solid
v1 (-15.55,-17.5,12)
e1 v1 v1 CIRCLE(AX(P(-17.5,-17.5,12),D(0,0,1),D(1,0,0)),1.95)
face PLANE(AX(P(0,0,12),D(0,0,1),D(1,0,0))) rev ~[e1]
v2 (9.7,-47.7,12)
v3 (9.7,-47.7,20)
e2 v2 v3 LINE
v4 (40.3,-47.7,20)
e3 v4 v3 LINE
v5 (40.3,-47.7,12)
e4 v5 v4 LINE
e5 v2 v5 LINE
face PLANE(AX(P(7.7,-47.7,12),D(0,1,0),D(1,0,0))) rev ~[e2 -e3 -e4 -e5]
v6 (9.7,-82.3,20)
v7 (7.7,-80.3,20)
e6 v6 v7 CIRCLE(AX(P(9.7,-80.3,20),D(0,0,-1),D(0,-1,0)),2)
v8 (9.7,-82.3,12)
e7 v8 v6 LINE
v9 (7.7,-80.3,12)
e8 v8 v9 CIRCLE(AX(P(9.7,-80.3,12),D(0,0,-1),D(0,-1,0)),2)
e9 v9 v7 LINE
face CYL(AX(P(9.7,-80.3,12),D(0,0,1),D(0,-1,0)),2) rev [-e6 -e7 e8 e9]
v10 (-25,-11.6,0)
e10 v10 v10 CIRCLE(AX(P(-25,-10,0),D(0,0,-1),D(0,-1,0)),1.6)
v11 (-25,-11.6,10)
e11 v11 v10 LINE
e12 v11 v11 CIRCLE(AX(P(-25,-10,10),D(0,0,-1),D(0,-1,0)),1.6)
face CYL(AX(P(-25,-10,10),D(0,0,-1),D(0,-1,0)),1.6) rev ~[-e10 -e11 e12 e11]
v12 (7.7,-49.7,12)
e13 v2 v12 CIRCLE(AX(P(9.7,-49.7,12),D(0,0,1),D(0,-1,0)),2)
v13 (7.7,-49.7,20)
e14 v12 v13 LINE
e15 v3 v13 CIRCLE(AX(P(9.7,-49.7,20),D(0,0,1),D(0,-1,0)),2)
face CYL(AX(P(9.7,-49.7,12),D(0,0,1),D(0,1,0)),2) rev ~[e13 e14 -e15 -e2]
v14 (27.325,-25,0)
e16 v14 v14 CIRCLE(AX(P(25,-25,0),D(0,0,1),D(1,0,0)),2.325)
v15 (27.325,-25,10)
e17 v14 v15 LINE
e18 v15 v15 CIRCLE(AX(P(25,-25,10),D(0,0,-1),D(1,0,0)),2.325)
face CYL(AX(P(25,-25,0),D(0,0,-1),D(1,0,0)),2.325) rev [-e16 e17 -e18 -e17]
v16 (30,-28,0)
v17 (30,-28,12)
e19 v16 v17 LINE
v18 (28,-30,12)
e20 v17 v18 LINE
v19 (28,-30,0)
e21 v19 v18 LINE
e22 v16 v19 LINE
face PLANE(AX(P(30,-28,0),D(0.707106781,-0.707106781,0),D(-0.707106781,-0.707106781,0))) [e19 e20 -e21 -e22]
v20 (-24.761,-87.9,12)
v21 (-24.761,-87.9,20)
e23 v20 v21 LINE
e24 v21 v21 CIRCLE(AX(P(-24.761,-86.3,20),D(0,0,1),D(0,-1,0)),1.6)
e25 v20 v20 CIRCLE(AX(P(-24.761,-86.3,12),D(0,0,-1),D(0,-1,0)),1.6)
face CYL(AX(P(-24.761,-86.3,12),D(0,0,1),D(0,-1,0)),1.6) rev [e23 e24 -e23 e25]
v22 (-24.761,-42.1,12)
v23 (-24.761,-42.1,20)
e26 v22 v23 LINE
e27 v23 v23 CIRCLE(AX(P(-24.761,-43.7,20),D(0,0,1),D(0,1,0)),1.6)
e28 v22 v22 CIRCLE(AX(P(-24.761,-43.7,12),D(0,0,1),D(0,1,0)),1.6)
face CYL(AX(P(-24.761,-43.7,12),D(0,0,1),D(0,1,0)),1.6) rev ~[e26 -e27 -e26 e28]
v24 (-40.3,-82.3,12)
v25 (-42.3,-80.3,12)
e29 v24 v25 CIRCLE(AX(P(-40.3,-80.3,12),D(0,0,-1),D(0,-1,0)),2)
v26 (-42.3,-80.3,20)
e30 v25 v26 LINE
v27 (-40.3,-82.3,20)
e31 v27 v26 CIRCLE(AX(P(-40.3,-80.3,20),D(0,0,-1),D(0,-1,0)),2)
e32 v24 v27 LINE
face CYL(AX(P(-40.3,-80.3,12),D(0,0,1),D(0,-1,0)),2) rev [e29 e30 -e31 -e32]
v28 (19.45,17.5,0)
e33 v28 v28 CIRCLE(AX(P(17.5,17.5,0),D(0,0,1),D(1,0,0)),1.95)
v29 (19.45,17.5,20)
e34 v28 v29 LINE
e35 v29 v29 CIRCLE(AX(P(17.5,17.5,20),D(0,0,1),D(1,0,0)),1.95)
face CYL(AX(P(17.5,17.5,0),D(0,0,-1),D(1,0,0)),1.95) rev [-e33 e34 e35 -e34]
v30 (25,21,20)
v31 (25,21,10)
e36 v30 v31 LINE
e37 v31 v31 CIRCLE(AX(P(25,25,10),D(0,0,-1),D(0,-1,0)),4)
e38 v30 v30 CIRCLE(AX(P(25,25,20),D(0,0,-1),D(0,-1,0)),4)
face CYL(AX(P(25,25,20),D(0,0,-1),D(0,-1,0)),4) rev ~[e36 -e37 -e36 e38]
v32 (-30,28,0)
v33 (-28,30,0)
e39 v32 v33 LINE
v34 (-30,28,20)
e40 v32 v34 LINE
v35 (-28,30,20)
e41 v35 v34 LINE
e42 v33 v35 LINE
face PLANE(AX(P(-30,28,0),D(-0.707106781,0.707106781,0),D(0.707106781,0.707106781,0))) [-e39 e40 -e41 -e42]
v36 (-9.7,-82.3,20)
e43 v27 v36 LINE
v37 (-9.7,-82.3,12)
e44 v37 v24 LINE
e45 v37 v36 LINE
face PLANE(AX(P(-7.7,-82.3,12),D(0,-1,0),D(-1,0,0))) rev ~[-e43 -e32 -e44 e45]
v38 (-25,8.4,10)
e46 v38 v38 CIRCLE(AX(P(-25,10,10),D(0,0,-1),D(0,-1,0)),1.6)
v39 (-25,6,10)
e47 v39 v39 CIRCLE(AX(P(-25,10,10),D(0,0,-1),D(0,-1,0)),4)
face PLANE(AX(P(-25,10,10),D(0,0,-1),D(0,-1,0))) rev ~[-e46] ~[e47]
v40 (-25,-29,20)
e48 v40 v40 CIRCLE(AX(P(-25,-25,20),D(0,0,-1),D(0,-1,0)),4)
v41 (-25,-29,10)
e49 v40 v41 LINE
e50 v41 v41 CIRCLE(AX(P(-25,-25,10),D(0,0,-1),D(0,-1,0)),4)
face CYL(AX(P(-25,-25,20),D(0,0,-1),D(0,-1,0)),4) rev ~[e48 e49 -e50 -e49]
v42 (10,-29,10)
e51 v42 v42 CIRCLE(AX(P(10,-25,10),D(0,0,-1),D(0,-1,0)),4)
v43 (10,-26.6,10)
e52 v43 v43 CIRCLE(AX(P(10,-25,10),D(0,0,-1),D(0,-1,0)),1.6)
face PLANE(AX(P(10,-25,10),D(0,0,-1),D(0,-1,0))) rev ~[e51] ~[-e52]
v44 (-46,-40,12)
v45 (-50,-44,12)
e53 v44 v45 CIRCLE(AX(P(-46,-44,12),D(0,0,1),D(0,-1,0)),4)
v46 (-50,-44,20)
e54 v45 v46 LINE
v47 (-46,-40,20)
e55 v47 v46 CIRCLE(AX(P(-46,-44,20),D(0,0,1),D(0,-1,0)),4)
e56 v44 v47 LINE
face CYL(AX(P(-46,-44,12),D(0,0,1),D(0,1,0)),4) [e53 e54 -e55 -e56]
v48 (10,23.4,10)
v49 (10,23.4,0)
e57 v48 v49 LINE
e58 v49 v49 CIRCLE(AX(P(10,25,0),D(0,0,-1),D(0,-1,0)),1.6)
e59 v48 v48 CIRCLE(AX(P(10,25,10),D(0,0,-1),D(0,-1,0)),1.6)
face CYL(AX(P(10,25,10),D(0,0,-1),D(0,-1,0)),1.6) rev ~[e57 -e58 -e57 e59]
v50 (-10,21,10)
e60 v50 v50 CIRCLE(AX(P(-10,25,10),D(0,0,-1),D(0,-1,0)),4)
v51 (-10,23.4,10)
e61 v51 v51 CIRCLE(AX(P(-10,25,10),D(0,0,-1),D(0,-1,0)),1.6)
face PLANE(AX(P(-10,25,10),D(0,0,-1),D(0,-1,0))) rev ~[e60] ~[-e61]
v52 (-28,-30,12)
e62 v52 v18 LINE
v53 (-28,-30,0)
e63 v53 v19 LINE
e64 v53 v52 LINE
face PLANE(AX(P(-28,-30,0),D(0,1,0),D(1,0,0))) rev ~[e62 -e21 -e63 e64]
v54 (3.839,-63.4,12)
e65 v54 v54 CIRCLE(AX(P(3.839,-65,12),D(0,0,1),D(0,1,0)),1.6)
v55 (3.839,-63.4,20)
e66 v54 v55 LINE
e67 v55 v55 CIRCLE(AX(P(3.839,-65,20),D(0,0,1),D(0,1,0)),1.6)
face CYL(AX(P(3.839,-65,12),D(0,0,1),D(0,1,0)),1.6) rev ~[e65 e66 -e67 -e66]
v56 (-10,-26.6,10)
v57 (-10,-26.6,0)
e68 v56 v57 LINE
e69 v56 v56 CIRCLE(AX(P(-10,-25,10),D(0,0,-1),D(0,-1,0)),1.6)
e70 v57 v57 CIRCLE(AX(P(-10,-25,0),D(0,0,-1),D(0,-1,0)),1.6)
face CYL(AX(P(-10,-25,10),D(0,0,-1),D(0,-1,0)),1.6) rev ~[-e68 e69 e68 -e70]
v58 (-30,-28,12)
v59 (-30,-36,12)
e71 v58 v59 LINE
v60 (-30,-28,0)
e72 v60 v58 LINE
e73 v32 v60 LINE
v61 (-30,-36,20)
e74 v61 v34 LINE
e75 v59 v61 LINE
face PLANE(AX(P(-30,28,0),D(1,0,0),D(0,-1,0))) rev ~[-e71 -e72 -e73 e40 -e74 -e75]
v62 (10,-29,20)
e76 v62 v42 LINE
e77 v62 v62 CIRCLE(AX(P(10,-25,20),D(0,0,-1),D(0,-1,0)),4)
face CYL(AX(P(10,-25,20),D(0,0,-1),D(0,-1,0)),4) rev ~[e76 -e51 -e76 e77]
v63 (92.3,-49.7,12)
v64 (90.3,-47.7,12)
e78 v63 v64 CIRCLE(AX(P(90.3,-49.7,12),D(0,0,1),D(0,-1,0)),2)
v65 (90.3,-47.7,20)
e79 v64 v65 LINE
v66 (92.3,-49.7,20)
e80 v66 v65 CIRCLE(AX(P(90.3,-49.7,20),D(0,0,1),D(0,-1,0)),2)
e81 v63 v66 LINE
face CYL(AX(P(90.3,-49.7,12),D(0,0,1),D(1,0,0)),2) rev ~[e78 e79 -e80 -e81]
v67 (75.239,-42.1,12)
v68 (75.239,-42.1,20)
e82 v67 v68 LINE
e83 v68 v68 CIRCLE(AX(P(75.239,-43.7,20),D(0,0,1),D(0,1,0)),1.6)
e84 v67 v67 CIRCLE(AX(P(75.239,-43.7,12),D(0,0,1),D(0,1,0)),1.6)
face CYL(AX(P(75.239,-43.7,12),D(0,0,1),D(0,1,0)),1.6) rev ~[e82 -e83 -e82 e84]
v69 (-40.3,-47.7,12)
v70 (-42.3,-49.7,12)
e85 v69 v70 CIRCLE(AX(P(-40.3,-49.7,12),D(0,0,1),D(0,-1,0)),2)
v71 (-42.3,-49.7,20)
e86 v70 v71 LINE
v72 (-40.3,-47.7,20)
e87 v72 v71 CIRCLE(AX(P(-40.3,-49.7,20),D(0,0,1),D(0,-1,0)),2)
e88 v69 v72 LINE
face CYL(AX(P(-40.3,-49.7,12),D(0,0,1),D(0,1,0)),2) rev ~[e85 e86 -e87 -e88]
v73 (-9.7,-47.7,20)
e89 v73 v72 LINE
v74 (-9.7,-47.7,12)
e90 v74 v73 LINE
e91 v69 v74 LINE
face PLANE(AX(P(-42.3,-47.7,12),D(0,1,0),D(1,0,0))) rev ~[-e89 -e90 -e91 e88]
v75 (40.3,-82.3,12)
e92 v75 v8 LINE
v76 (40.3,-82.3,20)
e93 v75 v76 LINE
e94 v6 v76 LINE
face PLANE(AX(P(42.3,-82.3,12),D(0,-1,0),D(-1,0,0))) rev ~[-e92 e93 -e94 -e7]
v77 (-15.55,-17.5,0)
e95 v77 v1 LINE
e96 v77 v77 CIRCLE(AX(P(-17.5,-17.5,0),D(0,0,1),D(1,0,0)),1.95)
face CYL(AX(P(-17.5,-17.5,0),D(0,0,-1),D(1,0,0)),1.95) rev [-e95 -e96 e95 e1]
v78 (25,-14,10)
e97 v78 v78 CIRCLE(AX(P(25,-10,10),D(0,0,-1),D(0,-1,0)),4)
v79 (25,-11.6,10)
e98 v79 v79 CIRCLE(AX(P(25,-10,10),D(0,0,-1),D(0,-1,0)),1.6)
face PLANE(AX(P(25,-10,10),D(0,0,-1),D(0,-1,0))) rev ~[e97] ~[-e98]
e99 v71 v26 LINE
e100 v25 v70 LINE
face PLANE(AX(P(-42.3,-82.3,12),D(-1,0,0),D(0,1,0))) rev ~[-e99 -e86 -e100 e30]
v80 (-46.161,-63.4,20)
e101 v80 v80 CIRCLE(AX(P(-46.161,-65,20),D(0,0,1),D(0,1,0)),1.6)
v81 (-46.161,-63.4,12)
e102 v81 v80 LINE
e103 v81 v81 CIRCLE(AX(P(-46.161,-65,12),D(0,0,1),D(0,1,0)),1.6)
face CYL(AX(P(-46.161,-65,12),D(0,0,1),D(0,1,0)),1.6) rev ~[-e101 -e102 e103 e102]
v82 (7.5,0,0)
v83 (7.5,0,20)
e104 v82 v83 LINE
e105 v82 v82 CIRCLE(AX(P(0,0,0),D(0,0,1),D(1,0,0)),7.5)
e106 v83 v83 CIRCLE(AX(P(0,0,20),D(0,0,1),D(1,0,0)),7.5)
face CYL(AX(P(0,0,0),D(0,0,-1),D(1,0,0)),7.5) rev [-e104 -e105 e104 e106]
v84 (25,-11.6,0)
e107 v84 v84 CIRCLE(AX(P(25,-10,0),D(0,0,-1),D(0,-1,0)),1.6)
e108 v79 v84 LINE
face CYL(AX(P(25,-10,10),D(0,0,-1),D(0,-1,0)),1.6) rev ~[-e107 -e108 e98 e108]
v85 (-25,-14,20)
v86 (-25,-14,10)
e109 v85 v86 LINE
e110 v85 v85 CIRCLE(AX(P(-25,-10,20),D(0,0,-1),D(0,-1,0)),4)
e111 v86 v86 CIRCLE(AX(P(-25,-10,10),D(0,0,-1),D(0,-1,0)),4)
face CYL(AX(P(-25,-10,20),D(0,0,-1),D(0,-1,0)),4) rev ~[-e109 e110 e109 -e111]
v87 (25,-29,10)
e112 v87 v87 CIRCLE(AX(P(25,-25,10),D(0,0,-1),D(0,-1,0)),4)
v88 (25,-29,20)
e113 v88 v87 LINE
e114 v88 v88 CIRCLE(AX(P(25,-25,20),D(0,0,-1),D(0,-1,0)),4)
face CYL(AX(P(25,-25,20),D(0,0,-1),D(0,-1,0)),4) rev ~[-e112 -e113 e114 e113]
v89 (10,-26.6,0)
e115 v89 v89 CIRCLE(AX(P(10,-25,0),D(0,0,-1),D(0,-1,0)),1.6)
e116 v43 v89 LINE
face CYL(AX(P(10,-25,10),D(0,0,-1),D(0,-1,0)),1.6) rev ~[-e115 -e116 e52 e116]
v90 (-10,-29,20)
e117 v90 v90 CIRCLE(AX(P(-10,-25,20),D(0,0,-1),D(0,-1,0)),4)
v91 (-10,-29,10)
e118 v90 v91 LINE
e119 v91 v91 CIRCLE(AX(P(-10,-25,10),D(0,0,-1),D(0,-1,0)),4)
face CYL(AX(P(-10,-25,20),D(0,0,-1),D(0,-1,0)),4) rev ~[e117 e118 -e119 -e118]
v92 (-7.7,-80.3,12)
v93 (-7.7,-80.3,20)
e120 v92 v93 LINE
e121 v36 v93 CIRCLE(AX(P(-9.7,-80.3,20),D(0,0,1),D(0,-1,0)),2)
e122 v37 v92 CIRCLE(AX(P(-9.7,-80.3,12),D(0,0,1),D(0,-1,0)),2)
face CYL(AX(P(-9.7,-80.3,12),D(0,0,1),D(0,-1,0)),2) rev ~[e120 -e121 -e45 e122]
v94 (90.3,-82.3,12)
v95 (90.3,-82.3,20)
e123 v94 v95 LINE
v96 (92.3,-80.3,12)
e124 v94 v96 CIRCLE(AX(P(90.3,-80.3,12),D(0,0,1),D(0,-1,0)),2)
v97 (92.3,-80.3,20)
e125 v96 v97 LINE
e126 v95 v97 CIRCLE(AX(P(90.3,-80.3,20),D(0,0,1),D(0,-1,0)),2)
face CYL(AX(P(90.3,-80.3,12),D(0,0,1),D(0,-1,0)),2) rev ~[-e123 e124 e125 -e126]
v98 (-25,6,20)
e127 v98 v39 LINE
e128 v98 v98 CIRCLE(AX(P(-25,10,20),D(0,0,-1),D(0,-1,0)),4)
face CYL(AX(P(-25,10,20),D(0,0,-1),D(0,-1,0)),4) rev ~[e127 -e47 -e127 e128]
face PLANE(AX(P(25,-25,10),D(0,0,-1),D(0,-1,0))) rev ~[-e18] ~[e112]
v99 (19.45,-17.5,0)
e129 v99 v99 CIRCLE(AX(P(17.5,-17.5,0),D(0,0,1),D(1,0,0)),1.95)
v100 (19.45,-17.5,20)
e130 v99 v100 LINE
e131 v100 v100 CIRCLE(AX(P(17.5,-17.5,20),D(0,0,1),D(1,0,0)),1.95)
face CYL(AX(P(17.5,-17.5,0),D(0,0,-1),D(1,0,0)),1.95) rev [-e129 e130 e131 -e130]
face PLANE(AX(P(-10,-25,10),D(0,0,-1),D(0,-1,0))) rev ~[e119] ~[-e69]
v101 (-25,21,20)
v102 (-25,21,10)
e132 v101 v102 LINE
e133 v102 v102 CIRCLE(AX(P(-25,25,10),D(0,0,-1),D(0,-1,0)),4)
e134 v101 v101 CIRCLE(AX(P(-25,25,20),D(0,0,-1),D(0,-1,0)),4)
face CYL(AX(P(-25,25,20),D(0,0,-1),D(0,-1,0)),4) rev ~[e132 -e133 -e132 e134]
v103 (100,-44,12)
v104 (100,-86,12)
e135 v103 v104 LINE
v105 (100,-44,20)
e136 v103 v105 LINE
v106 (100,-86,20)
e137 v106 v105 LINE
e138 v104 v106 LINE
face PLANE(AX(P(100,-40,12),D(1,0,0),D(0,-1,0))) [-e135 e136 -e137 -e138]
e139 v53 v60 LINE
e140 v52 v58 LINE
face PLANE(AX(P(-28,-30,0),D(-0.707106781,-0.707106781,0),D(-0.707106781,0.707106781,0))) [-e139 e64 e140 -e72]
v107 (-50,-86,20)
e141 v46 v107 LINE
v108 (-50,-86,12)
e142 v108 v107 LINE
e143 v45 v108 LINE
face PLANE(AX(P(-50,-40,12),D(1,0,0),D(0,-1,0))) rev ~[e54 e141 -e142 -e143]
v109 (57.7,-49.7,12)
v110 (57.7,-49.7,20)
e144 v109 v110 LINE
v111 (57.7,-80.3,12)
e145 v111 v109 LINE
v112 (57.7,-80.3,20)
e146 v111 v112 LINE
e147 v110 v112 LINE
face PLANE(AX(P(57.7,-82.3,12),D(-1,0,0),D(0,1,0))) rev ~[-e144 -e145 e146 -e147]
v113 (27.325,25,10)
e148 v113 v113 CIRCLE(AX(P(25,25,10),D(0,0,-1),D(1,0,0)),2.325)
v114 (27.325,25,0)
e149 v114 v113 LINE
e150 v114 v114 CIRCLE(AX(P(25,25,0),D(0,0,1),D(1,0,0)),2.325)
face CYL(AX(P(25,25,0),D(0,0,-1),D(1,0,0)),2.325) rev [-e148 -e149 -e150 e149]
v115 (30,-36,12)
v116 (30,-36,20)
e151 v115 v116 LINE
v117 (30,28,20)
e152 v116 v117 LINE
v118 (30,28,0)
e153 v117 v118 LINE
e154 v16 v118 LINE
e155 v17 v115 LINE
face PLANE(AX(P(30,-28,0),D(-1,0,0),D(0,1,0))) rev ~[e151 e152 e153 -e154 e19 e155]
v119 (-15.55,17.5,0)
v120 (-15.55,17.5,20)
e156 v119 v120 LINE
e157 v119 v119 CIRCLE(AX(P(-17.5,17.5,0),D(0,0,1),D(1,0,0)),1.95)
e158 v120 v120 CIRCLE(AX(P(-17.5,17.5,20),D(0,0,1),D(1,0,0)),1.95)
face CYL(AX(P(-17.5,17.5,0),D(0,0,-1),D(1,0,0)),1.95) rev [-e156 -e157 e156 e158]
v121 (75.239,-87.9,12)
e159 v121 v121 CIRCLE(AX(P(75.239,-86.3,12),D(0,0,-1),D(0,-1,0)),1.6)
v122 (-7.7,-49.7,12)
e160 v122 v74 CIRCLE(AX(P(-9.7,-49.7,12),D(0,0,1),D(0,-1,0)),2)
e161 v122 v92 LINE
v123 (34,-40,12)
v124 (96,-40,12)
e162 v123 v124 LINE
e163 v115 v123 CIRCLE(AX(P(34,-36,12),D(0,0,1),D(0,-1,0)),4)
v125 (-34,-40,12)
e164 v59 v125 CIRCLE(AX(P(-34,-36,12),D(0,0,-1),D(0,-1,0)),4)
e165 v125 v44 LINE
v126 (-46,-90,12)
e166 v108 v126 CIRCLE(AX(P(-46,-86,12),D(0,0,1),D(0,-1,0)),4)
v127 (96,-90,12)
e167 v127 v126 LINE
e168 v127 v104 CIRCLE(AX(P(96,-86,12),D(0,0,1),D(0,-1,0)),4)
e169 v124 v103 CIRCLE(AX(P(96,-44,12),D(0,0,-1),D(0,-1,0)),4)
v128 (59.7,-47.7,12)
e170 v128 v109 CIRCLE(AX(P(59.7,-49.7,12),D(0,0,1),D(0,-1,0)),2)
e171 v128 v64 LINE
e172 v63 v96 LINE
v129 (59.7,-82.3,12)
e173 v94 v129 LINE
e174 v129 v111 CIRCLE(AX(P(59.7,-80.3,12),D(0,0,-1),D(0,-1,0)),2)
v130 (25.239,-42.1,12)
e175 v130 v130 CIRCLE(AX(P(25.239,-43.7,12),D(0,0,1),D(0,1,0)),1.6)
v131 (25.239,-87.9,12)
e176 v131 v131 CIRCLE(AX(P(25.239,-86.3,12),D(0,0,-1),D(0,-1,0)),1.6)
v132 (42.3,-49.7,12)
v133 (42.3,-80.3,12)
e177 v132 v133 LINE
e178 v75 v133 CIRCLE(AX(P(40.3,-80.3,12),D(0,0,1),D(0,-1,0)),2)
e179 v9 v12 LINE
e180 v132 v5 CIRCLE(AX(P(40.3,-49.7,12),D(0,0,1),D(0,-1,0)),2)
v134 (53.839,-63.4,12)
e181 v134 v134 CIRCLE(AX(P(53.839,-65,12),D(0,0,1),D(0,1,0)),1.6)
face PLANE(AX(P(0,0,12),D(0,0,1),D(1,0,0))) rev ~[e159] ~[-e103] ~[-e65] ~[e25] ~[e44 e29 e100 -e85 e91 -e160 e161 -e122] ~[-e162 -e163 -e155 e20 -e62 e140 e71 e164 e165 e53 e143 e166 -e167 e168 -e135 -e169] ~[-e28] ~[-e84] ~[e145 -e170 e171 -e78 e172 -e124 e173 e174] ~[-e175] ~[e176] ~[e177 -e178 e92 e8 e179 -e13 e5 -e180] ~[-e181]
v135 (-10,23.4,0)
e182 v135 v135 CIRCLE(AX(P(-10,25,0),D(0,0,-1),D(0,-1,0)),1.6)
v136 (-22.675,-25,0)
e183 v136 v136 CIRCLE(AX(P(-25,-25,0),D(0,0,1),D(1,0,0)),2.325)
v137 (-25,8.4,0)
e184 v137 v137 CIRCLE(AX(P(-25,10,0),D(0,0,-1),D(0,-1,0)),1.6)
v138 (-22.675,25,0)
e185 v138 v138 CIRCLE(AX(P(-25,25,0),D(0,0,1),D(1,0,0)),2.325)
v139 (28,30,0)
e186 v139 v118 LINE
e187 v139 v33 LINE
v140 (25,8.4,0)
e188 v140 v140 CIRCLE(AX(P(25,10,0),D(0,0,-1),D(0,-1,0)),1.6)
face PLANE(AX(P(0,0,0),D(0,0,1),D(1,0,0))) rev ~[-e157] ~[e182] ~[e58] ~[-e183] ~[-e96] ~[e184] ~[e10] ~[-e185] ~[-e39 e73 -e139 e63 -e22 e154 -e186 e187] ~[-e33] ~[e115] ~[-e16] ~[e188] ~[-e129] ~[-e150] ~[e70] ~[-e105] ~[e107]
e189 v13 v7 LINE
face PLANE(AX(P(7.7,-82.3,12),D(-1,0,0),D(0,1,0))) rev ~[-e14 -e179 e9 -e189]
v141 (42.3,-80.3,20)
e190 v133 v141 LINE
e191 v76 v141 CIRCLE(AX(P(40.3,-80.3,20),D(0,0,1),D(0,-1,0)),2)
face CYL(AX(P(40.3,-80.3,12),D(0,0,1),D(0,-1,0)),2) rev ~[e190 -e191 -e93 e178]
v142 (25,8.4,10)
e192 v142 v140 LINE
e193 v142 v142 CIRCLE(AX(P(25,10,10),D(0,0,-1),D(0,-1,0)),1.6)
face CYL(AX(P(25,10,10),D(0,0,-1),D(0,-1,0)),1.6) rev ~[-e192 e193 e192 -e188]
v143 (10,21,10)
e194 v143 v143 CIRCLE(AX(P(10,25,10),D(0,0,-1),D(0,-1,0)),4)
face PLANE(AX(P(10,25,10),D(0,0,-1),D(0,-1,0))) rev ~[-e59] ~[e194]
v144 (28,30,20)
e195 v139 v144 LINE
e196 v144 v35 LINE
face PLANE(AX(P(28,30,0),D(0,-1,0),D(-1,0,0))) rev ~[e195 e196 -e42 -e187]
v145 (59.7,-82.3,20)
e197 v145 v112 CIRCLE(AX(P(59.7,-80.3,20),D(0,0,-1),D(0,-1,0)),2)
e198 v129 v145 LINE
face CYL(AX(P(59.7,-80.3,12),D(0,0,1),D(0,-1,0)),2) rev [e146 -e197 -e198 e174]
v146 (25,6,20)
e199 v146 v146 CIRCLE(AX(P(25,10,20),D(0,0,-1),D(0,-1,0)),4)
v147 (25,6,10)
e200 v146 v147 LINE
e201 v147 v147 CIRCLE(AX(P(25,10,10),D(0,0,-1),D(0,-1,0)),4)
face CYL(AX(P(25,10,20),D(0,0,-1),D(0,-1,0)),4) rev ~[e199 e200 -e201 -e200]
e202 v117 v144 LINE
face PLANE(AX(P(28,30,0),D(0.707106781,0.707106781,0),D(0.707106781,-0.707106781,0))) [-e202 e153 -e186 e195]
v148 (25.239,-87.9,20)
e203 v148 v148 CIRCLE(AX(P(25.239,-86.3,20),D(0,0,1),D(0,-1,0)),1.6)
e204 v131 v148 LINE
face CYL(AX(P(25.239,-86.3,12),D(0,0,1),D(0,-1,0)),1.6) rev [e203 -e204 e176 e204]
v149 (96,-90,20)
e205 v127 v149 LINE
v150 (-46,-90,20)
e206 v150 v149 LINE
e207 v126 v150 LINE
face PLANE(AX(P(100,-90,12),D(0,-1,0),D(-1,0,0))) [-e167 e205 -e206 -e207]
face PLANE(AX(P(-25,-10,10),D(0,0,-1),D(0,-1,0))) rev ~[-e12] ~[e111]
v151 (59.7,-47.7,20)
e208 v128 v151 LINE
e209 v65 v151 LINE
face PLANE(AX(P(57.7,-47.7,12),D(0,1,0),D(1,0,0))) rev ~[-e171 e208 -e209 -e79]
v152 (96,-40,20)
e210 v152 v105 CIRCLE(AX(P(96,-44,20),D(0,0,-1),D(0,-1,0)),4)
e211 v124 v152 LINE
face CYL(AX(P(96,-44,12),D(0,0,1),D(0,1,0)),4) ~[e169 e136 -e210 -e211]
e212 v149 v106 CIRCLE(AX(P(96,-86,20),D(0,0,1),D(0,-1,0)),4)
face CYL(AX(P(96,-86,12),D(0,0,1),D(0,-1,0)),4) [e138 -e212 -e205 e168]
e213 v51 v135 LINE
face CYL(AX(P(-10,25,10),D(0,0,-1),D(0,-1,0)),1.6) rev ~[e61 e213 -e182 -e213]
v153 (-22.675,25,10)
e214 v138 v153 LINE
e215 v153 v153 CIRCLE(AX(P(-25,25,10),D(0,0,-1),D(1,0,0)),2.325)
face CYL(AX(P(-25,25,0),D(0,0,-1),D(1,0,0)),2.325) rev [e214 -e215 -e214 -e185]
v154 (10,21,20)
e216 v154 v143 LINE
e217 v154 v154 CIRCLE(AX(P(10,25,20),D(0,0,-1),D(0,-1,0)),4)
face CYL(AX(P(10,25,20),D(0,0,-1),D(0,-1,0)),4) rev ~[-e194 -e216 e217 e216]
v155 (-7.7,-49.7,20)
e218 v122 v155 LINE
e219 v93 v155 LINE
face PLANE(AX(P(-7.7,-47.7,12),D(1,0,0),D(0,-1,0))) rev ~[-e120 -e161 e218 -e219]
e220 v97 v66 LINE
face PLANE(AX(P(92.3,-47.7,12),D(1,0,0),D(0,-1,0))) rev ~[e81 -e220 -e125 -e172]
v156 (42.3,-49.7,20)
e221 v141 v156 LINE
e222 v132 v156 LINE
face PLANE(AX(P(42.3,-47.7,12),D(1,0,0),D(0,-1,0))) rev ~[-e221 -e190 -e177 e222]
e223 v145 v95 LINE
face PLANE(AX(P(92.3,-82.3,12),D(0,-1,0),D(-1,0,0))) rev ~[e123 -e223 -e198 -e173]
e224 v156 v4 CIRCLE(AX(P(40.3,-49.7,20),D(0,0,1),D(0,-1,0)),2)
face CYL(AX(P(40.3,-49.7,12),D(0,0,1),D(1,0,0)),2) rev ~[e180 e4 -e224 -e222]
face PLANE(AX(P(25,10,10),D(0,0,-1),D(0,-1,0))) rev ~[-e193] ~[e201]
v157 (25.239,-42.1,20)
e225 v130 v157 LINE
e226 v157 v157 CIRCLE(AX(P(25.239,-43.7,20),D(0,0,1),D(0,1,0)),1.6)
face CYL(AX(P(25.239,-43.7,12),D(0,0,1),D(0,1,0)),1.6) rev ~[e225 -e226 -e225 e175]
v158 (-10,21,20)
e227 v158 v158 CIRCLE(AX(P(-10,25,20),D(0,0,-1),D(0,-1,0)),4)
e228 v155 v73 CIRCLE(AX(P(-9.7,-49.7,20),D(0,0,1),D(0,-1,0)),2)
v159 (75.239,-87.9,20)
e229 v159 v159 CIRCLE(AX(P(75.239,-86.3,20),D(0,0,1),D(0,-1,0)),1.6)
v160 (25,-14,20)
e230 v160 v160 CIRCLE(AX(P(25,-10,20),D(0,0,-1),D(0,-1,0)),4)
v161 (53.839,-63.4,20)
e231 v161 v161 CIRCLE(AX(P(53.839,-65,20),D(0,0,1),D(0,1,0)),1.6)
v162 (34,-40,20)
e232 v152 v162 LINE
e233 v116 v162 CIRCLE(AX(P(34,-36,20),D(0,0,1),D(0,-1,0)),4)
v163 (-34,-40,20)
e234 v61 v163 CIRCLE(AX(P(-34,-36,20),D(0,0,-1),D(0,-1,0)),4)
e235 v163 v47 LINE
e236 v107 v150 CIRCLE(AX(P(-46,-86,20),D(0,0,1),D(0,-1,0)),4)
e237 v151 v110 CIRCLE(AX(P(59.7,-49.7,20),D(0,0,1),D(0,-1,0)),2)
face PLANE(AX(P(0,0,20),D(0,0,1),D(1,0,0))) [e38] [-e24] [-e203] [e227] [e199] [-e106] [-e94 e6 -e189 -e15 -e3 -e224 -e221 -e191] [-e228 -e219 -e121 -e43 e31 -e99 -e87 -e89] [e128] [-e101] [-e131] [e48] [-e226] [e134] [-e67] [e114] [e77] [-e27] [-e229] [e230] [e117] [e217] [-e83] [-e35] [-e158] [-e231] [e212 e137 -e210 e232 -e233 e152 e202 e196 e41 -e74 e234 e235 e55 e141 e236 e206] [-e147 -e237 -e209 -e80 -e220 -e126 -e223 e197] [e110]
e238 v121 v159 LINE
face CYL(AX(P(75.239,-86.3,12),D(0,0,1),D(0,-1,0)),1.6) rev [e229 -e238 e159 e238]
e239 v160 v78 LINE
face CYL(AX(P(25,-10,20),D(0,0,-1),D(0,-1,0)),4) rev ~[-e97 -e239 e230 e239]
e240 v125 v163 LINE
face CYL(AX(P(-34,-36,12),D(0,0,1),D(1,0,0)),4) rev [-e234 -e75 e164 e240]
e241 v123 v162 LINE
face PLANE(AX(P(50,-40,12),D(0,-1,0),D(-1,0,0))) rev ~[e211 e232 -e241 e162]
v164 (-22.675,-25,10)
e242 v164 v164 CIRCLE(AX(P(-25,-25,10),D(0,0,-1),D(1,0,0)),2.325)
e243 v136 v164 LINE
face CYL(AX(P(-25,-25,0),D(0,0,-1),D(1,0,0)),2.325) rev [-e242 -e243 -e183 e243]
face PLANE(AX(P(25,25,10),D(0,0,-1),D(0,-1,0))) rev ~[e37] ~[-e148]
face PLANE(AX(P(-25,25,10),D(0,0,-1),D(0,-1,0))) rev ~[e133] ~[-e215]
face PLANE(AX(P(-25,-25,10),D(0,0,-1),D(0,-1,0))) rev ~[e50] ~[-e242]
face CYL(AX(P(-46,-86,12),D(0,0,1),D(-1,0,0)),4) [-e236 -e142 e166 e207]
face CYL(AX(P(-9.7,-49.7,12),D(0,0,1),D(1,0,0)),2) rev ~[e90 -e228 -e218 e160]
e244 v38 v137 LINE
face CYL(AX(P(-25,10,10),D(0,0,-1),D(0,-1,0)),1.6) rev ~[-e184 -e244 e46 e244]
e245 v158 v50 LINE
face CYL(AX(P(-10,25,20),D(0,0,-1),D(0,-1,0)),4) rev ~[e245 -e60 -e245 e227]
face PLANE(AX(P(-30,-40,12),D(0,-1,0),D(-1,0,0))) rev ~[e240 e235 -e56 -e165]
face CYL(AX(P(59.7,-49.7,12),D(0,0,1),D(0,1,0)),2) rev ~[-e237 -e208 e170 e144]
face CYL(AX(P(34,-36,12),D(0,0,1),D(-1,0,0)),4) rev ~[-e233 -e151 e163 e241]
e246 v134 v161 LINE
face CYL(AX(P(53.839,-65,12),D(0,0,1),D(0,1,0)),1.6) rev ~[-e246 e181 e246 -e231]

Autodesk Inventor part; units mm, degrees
ref_plane "YZ Plane" through (0, 0, 0) normal (1, 0, 0) x (0, 1, 0)
ref_plane "XZ Plane" through (0, 0, 0) normal (0, 1, 0) x (-1, 0, 0)
ref_plane "XY Plane" through (0, 0, 0) normal (0, 0, 1) x (1, 0, 0)
ref_plane "Work Plane1" through (0, 0, 0) normal (0, 0, 1) x (1, 0, 0)
sketch "Sketch1" plane through (0, 0, 0) normal (0, 0, 1) x (1, 0, 0)
  circle A0 centre (-10, -25) radius 1.45 projected
  circle A1 centre (-10, 25) radius 1.45 projected
  circle A2 centre (10, 25) radius 1.45 projected
  circle A3 centre (10, -25) radius 1.45 projected
  circle A4 centre (-25, 25) radius 2.325 projected
  circle A5 centre (25, -25) radius 2.325 projected
  circle A6 centre (-25, -25) radius 2.325 projected
  circle A7 centre (25, 25) radius 2.325 projected
  line L0 (28, 30) -> (30, 28) projected
  line L1 (28, 30) -> (-28, 30) projected
  line L2 (-30, 28) -> (-28, 30) projected
  line L3 (-30, 28) -> (-30, -28) projected
  line L4 (-28, -30) -> (-30, -28) projected
  line L5 (-28, -30) -> (28, -30) projected
  line L6 (30, -28) -> (28, -30) projected
  line L7 (30, -28) -> (30, 28) projected
  circle A8 centre (-17.5, -17.5) radius 1.95 projected
  circle A9 centre (17.5, 17.5) radius 1.95 projected
  circle A10 centre (17.5, -17.5) radius 1.95 projected
  circle A11 centre (-17.5, 17.5) radius 1.95 projected
  circle A12 centre (0, 0) radius 7.5 projected
  circle A13 centre (-25.33, -75.26) radius 6.15 projected
  circle A14 centre (25, -10) radius 1.45 projected
  circle A15 centre (-25, -10) radius 1.45 projected
  circle A16 centre (-25, 10) radius 1.45 projected
  circle A17 centre (25, 10) radius 1.45 projected
  point P0 (0, 0)
extrude "Extrusion1" add sketch "Sketch1" along normal blind 12 contours L0 L7 L6 L5 L4 L3 L2 L1
sketch "Sketch2" plane through (0, 0, 12) normal (0, 0, 1) x (1, 0, 0)
  circle A0 centre (0, 0) radius 7.5 projected
  circle A1 centre (25, 10) radius 1.45 projected
  circle A2 centre (-25, 10) radius 1.45 projected
  circle A3 centre (-25, -10) radius 1.45 projected
  circle A4 centre (25, -10) radius 1.45 projected
  circle A5 centre (10, -25) radius 1.45 projected
  circle A6 centre (10, 25) radius 1.45 projected
  circle A7 centre (-10, 25) radius 1.45 projected
  circle A8 centre (-10, -25) radius 1.45 projected
  line L0 (-28, -30) -> (28, -30) projected
  line L1 (28, -30) -> (30, -28) projected
  line L2 (30, -28) -> (30, 28) projected
  line L3 (30, 28) -> (28, 30) projected
  line L4 (28, 30) -> (-28, 30) projected
  line L5 (30, -28) -> (30, 28) projected
  line L6 (30, -30) -> (28, -30)
  line L7 (18, -90) -> (30, -90)
  line L8 (30, -90) -> (30, -88) construction
  line L9 (30, 28) -> (30, -28) projected
  line L10 (30, -30) -> (30, -28)
  line L11 (30, -28) -> (28, -30)
  line L12 (-28, 30) -> (-30, 28) projected
  line L13 (-30, 28) -> (-30, -28) projected
  line L14 (-30, -28) -> (-28, -30) projected
  line L15 (-30, -30) -> (-28, -30)
  line L16 (-18, -90) -> (-30, -90)
  line L17 (-30, -30) -> (-30, -28)
  line L18 (-30, -28) -> (-28, -30)
  line L19 (-28, -30) -> (-30, -30)
  line L20 (28, -30) -> (30, -28) projected
  line L21 (28, -30) -> (30, -30)
  line L22 (30, -30) -> (30, -28)
  line L23 (30, -28) -> (28, -30)
  circle A9 centre (-17.5, 17.5) radius 1.95 projected
  circle A10 centre (-25, 25) radius 2.325 projected
  circle A11 centre (25, 25) radius 2.325 projected
  circle A12 centre (17.5, 17.5) radius 1.95 projected
  circle A13 centre (17.5, -17.5) radius 1.95 projected
  circle A14 centre (25, -25) radius 2.325 projected
  circle A15 centre (-25, -25) radius 2.325 projected
  line L24 (-18, -90) -> (18, -90)
  line L25 (18, -30) -> (-18, -30)
  line L26 (-50, -90) -> (-32, -90)
  line L27 (50, -90) -> (50, -40) construction
  line L28 (50, -40) -> (30, -40)
  line L29 (-50, -40) -> (-50, -90)
  line L30 (50, -40) -> (98, -40)
  line L31 (100, -40) -> (100, -42)
  line L32 (100, -90) -> (50, -90)
  line L33 (50, -90) -> (50, -40) construction
  line L34 (-30, -40) -> (-30, -30)
  line L35 (-30, -90) -> (-18, -90)
  line L36 (-18, -90) -> (18, -90)
  line L37 (18, -90) -> (30, -90)
  line L38 (30, -90) -> (32, -90)
  line L39 (32, -90) -> (50, -90)
  line L40 (100, -42) -> (100, -90)
  line L41 (98, -40) -> (100, -40)
  line L42 (30, -40) -> (18, -40)
  line L43 (-30, -90) -> (-30, -88) construction
  line L44 (-30, -40) -> (-50, -40)
  line L45 (-30, -88) -> (-30, -40) construction
  line L46 (-32, -90) -> (-30, -90)
  line L47 (18, -40) -> (-18, -40)
  line L48 (-18, -40) -> (-30, -40)
  line L49 (30, -40) -> (30, -30)
  line L50 (30, -88) -> (30, -40) construction
  line L51 (28, -30) -> (18, -30)
  line L52 (-28, -30) -> (-18, -30)
  line L53 (30, -28) -> (30, -30)
  line L54 (30, -28) -> (30, -30)
  line L55 (28, -30) -> (30, -30)
  line L56 (28, -30) -> (30, -28)
  point P0 (0, 0)
  point P1 (-24.2387, -104)
  point P2 (18, -80)
  point P3 (0, -40)
  point P4 (0, -30)
  dimension "d78" = 60
  dimension "d79" = 50
  dimension "d80" = 10
  dimension "d81" = 100
  dimension "d82" = 50
extrude "Extrusion2" add sketch "Sketch2" along normal blind 8
fillet "Fillet1" radius 4 6 edges at (-50, -40, 16) (-50, -90, 16) (100, -90, 16) (100, -40, 16) (30, -40, 16) (-30, -40, 16)
ref_plane "Work Plane2" through (-6, -91, 19) normal (1, 0, 0) x (0, 0, -1)
sketch "Sketch7" plane through (0, 0, 20) normal (0, 0, 1) x (1, 0, 0)
  circle A0 centre (10, -25) radius 1.45 projected
  circle A1 centre (-10, -25) radius 1.45 projected
  circle A2 centre (-25, -10) radius 1.45 projected
  circle A3 centre (-25, 10) radius 1.45 projected
  circle A4 centre (-10, 25) radius 1.45 projected
  circle A5 centre (10, 25) radius 1.45 projected
  circle A6 centre (25, 10) radius 1.45 projected
  circle A7 centre (25, -10) radius 1.45 projected
  circle A8 centre (-25, 25) radius 2.325 projected
  circle A9 centre (25, 25) radius 2.325 projected
  circle A10 centre (25, -25) radius 2.325 projected
  circle A11 centre (-25, -25) radius 2.325 projected
  point P0 (0, 0)
hole "Hole1" at (-25, -10, 20) at (-25, 10, 20) at (-10, 25, 20) at (10, 25, 20) at (25, 10, 20) at (25, -10, 20) at (10, -25, 20) at (-10, -25, 20) at (-25, 25, 20) at (-25, -25, 20) at (25, -25, 20) at (25, 25, 20) direction (0, 0, -1) diameter 3.2 end through all counterbore diameter 8 counterbore depth 10
sketch "Sketch12" plane through (0, 0, 12) normal (0, 0, -1) x (-1, 0, 0)
  line L0 (30.1502, -90.0017) -> (48, -90.0017)
  arc A0 (48, -90.0017) -> (50, -88.0017) centre (48, -88.0017) ccw
  line L1 (50, -70.0017) -> (50, -88.0017)
  arc A1 (50, -41.8579) -> (48, -39.8579) centre (48, -41.8579) ccw
  line L2 (48, -39.8579) -> (30, -39.8579)
  arc A2 (2, -40.0017) -> (0, -42.0017) centre (2, -42.0017) ccw
  line L3 (0, -59.8506) -> (0, -42.0017)
  arc A3 (0, -88.0017) -> (2, -90.0017) centre (2, -88.0017) ccw
  line L4 (9.561, -82.3) -> (40.161, -82.3)
  arc A4 (7.561, -80.3) -> (9.561, -82.3) centre (9.561, -80.3) ccw
  line L5 (7.561, -80.3) -> (7.561, -49.7)
  arc A5 (9.561, -47.7) -> (7.561, -49.7) centre (9.561, -49.7) ccw
  line L6 (40.161, -47.7) -> (9.561, -47.7)
  arc A6 (42.161, -49.7) -> (40.161, -47.7) centre (40.161, -49.7) ccw
  line L7 (42.161, -49.7) -> (42.161, -80.3)
  arc A7 (40.161, -82.3) -> (42.161, -80.3) centre (40.161, -80.3) ccw
  circle A8 centre (46.161, -65) radius 3.89
  circle A9 centre (24.761, -43.7) radius 2.9259
  line L8 (50, -70.0017) -> (50.8263, -70.0017)
  arc A10 (51.3, -70.3417) -> (50.8263, -70.0017) centre (50.8263, -70.5017) ccw
  arc A11 (51.3, -70.3417) -> (53.2596, -71.9417) centre (53.2596, -69.9417) ccw
  line L9 (53.2596, -71.9417) -> (53.4, -71.9417)
  arc A12 (53.4, -71.9417) -> (55.4, -69.9417) centre (53.4, -69.9417) ccw
  line L10 (55.4, -69.9417) -> (55.4, -60.0583)
  arc A13 (55.4, -60.0583) -> (53.4, -58.0583) centre (53.4, -60.0583) ccw
  line L11 (53.4, -58.0583) -> (53.2596, -58.0583)
  arc A14 (53.2596, -58.0583) -> (51.3, -59.6583) centre (53.2596, -60.0583) ccw
  arc A15 (50.8263, -59.9983) -> (51.3, -59.6583) centre (50.8263, -59.4983) ccw
  line L12 (50.8263, -59.9983) -> (50, -59.9983)
  line L13 (50, -41.8579) -> (50, -59.9983)
  line L14 (30, -39.8579) -> (30, -39.1754)
  arc A16 (30.34, -38.7017) -> (30, -39.1754) centre (30.5, -39.1754) ccw
  arc A17 (30.34, -38.7017) -> (31.94, -36.7421) centre (29.94, -36.7421) ccw
  line L15 (31.94, -36.7421) -> (31.94, -36.6017)
  arc A18 (31.94, -36.6017) -> (29.94, -34.6017) centre (29.94, -36.6017) ccw
  line L16 (29.94, -34.6017) -> (20.06, -34.6017)
  arc A19 (20.06, -34.6017) -> (18.06, -36.6017) centre (20.06, -36.6017) ccw
  line L17 (18.06, -36.6017) -> (18.06, -36.7421)
  arc A20 (18.06, -36.7421) -> (19.66, -38.7017) centre (20.06, -36.7421) ccw
  arc A21 (20, -39.1754) -> (19.66, -38.7017) centre (19.5, -39.1754) ccw
  line L18 (20, -39.1754) -> (20, -40.0017)
  line L19 (20, -40.0017) -> (2, -40.0017)
  line L20 (19.8489, -90.0017) -> (19.8491, -89.2759)
  arc A22 (19.8491, -89.2759) -> (19.6194, -88.9515) centre (19.5001, -89.2795) ccw
  arc A23 (17.9053, -86.8424) -> (19.6194, -88.9515) centre (20.06, -86.8424) ccw
  line L21 (17.9053, -86.8424) -> (17.9053, -86.7026)
  arc A24 (20.0566, -84.5515) -> (17.9053, -86.7026) centre (20.0565, -86.7026) ccw
  line L22 (20.0566, -84.5515) -> (29.94, -84.552)
  arc A25 (32.09, -86.7021) -> (29.94, -84.552) centre (29.94, -86.702) ccw
  line L23 (32.09, -86.7021) -> (32.09, -86.8424)
  arc A26 (30.38, -88.9468) -> (32.09, -86.8424) centre (29.9401, -86.8423) ccw
  arc A27 (30.38, -88.9468) -> (30.1502, -89.2756) centre (30.5004, -89.2756) ccw
  line L24 (30.1502, -89.2756) -> (30.1502, -90.0017)
  line L25 (0, -59.8506) -> (0.7258, -59.8508)
  arc A28 (0.7258, -59.8508) -> (1.0502, -59.6211) centre (0.7222, -59.5018) ccw
  arc A29 (3.1593, -57.907) -> (1.0502, -59.6211) centre (3.1593, -60.0617) ccw
  line L26 (3.1593, -57.907) -> (3.2991, -57.907)
  arc A30 (5.4502, -60.0583) -> (3.2991, -57.907) centre (3.2991, -60.0582) ccw
  line L27 (5.4502, -60.0583) -> (5.4497, -69.9417)
  arc A31 (3.2996, -72.0917) -> (5.4497, -69.9417) centre (3.2997, -69.9417) ccw
  line L28 (3.2996, -72.0917) -> (3.1593, -72.0917)
  arc A32 (1.0549, -70.3817) -> (3.1593, -72.0917) centre (3.1594, -69.9418) ccw
  arc A33 (1.0549, -70.3817) -> (0.7261, -70.1519) centre (0.7261, -70.5021) ccw
  line L29 (0.7261, -70.1519) -> (0, -70.152)
  line L30 (0, -88.0017) -> (0, -70.152)
  line L31 (2, -90.0017) -> (19.8489, -90.0017)
  line L32 (50, -44) -> (50, -86) projected
  line L33 (-0.1817, -64.8173) -> (24.3267, -108.886) construction
  line L34 (-100, -86) -> (-100, -44) projected
  line L35 (50, -44) -> (50, -86) projected
  point P0 (24.211, -65)
  point P1 (50, -65)
  point P2 (55.4, -65)
  point P3 (42.161, -65)
  point P4 (50, -65)
  point P5 (5.45, -65)
  point P6 (50, -65)
  point P7 (7.561, -65)
  point P8 (50, -65)
  point P9 (50, -65)
  dimension "d106" = 7.78
  dimension "d107" = 4
  dimension "d108" = 21.4
  dimension "d109" = 4
hole "Hole2" at (-46.161, -65, 12) at (-24.761, -43.7, 12) direction (0, 0, 1) diameter 3.2 end through all
pattern_linear "Rectangular Pattern1" count 3 spacing 50 along (1, 0, 0) of "Hole2"
sketch "Sketch15" plane through (0, 0, 12) normal (0, 0, -1) x (-1, 0, 0)
  line L0 (50, -40) -> (0, -40)
  line L1 (-100, -40) -> (-100, -90)
  line L2 (-100, -90) -> (-50, -90)
  line L3 (50, -90) -> (50, -40)
  line L4 (46, -90) -> (-96, -90) projected
  line L5 (-50, -40) -> (-50, -90)
  line L6 (50, -44) -> (50, -86) projected
  arc A0 (50, -44) -> (46, -40) centre (46, -44) ccw projected
  line L7 (34, -40) -> (46, -40) projected
  arc A1 (30, -36) -> (34, -40) centre (34, -36) ccw projected
  line L8 (30, -28) -> (30, -36) projected
  arc A2 (46, -90) -> (50, -86) centre (46, -86) ccw projected
  line L9 (46, -90) -> (-96, -90) projected
  arc A3 (-100, -86) -> (-96, -90) centre (-96, -86) ccw projected
  line L10 (-100, -86) -> (-100, -44) projected
  arc A4 (-96, -40) -> (-100, -44) centre (-96, -44) ccw projected
  line L11 (-96, -40) -> (-34, -40) projected
  arc A5 (-34, -40) -> (-30, -36) centre (-34, -36) ccw projected
  line L12 (-30, -36) -> (-30, -28) projected
  line L13 (0, -40) -> (0, -90)
  line L14 (42.3, -47.7) -> (7.7, -47.7)
  line L15 (7.7, -47.7) -> (7.7, -82.3)
  line L16 (7.7, -82.3) -> (42.3, -82.3)
  line L17 (42.3, -82.3) -> (42.3, -47.7)
  line L18 (-7.7, -47.7) -> (-42.3, -47.7)
  line L19 (-42.3, -47.7) -> (-42.3, -82.3)
  line L20 (-42.3, -82.3) -> (-7.7, -82.3)
  line L21 (-7.7, -82.3) -> (-7.7, -47.7)
  line L22 (-57.7, -47.7) -> (-92.3, -47.7)
  line L23 (-92.3, -47.7) -> (-92.3, -82.3)
  line L24 (-92.3, -82.3) -> (-57.7, -82.3)
  line L25 (-57.7, -82.3) -> (-57.7, -47.7)
  line L26 (0, -90) -> (50, -90)
  line L27 (-50, -90) -> (0, -90)
  line L28 (-50, -40) -> (-100, -40)
  line L29 (0, -40) -> (-50, -40)
  point P0 (0, 0)
  point P1 (0, -65)
  point P2 (42.3, -65)
  point P3 (50, -65)
  point P4 (-7.7, -65)
  point P5 (50, -65)
  point P6 (50, -65)
  point P7 (-57.7, -65)
  point P8 (25, -82.3)
  point P9 (25, -90)
  point P10 (-25, -82.3)
  point P11 (-25, -90)
  point P12 (-75, -82.3)
  point P13 (-75, -90)
  dimension "d116" = 50
  dimension "d117" = 50
  dimension "d118" = 50
  dimension "d119" = 34.6
  dimension "d120" = 34.6
  dimension "d121" = 34.6
  dimension "d122" = 34.6
  dimension "d123" = 34.6
  dimension "d124" = 34.6
extrude "Extrusion10" cut sketch "Sketch15" against normal blind 10 contours L17 L16 L15 L14 | L21 L20 L19 L18 | L25 L24 L23 L22
fillet "Fillet2" radius 2 12 edges at (-42.3, -82.3, 16) (-42.3, -47.7, 16) (-7.7, -47.7, 16) (42.3, -47.7, 16) (-7.7, -82.3, 16) (7.7, -47.7, 16) (7.7, -82.3, 16) (57.7, -82.3, 16) (42.3, -82.3, 16) (92.3, -82.3, 16) (57.7, -47.7, 16) (92.3, -47.7, 16)
ref_plane "Work Plane3" through (-46, -65, 12) normal (0, -1, 0) x (1, 0, 0)
mirror "Mirror2" about plane through (-46, -65, 12) normal (0, -1, 0) of "Hole2", "Rectangular Pattern1"
properties part number "30_XY_Sample_arm_UC2_Adapter_v3"
